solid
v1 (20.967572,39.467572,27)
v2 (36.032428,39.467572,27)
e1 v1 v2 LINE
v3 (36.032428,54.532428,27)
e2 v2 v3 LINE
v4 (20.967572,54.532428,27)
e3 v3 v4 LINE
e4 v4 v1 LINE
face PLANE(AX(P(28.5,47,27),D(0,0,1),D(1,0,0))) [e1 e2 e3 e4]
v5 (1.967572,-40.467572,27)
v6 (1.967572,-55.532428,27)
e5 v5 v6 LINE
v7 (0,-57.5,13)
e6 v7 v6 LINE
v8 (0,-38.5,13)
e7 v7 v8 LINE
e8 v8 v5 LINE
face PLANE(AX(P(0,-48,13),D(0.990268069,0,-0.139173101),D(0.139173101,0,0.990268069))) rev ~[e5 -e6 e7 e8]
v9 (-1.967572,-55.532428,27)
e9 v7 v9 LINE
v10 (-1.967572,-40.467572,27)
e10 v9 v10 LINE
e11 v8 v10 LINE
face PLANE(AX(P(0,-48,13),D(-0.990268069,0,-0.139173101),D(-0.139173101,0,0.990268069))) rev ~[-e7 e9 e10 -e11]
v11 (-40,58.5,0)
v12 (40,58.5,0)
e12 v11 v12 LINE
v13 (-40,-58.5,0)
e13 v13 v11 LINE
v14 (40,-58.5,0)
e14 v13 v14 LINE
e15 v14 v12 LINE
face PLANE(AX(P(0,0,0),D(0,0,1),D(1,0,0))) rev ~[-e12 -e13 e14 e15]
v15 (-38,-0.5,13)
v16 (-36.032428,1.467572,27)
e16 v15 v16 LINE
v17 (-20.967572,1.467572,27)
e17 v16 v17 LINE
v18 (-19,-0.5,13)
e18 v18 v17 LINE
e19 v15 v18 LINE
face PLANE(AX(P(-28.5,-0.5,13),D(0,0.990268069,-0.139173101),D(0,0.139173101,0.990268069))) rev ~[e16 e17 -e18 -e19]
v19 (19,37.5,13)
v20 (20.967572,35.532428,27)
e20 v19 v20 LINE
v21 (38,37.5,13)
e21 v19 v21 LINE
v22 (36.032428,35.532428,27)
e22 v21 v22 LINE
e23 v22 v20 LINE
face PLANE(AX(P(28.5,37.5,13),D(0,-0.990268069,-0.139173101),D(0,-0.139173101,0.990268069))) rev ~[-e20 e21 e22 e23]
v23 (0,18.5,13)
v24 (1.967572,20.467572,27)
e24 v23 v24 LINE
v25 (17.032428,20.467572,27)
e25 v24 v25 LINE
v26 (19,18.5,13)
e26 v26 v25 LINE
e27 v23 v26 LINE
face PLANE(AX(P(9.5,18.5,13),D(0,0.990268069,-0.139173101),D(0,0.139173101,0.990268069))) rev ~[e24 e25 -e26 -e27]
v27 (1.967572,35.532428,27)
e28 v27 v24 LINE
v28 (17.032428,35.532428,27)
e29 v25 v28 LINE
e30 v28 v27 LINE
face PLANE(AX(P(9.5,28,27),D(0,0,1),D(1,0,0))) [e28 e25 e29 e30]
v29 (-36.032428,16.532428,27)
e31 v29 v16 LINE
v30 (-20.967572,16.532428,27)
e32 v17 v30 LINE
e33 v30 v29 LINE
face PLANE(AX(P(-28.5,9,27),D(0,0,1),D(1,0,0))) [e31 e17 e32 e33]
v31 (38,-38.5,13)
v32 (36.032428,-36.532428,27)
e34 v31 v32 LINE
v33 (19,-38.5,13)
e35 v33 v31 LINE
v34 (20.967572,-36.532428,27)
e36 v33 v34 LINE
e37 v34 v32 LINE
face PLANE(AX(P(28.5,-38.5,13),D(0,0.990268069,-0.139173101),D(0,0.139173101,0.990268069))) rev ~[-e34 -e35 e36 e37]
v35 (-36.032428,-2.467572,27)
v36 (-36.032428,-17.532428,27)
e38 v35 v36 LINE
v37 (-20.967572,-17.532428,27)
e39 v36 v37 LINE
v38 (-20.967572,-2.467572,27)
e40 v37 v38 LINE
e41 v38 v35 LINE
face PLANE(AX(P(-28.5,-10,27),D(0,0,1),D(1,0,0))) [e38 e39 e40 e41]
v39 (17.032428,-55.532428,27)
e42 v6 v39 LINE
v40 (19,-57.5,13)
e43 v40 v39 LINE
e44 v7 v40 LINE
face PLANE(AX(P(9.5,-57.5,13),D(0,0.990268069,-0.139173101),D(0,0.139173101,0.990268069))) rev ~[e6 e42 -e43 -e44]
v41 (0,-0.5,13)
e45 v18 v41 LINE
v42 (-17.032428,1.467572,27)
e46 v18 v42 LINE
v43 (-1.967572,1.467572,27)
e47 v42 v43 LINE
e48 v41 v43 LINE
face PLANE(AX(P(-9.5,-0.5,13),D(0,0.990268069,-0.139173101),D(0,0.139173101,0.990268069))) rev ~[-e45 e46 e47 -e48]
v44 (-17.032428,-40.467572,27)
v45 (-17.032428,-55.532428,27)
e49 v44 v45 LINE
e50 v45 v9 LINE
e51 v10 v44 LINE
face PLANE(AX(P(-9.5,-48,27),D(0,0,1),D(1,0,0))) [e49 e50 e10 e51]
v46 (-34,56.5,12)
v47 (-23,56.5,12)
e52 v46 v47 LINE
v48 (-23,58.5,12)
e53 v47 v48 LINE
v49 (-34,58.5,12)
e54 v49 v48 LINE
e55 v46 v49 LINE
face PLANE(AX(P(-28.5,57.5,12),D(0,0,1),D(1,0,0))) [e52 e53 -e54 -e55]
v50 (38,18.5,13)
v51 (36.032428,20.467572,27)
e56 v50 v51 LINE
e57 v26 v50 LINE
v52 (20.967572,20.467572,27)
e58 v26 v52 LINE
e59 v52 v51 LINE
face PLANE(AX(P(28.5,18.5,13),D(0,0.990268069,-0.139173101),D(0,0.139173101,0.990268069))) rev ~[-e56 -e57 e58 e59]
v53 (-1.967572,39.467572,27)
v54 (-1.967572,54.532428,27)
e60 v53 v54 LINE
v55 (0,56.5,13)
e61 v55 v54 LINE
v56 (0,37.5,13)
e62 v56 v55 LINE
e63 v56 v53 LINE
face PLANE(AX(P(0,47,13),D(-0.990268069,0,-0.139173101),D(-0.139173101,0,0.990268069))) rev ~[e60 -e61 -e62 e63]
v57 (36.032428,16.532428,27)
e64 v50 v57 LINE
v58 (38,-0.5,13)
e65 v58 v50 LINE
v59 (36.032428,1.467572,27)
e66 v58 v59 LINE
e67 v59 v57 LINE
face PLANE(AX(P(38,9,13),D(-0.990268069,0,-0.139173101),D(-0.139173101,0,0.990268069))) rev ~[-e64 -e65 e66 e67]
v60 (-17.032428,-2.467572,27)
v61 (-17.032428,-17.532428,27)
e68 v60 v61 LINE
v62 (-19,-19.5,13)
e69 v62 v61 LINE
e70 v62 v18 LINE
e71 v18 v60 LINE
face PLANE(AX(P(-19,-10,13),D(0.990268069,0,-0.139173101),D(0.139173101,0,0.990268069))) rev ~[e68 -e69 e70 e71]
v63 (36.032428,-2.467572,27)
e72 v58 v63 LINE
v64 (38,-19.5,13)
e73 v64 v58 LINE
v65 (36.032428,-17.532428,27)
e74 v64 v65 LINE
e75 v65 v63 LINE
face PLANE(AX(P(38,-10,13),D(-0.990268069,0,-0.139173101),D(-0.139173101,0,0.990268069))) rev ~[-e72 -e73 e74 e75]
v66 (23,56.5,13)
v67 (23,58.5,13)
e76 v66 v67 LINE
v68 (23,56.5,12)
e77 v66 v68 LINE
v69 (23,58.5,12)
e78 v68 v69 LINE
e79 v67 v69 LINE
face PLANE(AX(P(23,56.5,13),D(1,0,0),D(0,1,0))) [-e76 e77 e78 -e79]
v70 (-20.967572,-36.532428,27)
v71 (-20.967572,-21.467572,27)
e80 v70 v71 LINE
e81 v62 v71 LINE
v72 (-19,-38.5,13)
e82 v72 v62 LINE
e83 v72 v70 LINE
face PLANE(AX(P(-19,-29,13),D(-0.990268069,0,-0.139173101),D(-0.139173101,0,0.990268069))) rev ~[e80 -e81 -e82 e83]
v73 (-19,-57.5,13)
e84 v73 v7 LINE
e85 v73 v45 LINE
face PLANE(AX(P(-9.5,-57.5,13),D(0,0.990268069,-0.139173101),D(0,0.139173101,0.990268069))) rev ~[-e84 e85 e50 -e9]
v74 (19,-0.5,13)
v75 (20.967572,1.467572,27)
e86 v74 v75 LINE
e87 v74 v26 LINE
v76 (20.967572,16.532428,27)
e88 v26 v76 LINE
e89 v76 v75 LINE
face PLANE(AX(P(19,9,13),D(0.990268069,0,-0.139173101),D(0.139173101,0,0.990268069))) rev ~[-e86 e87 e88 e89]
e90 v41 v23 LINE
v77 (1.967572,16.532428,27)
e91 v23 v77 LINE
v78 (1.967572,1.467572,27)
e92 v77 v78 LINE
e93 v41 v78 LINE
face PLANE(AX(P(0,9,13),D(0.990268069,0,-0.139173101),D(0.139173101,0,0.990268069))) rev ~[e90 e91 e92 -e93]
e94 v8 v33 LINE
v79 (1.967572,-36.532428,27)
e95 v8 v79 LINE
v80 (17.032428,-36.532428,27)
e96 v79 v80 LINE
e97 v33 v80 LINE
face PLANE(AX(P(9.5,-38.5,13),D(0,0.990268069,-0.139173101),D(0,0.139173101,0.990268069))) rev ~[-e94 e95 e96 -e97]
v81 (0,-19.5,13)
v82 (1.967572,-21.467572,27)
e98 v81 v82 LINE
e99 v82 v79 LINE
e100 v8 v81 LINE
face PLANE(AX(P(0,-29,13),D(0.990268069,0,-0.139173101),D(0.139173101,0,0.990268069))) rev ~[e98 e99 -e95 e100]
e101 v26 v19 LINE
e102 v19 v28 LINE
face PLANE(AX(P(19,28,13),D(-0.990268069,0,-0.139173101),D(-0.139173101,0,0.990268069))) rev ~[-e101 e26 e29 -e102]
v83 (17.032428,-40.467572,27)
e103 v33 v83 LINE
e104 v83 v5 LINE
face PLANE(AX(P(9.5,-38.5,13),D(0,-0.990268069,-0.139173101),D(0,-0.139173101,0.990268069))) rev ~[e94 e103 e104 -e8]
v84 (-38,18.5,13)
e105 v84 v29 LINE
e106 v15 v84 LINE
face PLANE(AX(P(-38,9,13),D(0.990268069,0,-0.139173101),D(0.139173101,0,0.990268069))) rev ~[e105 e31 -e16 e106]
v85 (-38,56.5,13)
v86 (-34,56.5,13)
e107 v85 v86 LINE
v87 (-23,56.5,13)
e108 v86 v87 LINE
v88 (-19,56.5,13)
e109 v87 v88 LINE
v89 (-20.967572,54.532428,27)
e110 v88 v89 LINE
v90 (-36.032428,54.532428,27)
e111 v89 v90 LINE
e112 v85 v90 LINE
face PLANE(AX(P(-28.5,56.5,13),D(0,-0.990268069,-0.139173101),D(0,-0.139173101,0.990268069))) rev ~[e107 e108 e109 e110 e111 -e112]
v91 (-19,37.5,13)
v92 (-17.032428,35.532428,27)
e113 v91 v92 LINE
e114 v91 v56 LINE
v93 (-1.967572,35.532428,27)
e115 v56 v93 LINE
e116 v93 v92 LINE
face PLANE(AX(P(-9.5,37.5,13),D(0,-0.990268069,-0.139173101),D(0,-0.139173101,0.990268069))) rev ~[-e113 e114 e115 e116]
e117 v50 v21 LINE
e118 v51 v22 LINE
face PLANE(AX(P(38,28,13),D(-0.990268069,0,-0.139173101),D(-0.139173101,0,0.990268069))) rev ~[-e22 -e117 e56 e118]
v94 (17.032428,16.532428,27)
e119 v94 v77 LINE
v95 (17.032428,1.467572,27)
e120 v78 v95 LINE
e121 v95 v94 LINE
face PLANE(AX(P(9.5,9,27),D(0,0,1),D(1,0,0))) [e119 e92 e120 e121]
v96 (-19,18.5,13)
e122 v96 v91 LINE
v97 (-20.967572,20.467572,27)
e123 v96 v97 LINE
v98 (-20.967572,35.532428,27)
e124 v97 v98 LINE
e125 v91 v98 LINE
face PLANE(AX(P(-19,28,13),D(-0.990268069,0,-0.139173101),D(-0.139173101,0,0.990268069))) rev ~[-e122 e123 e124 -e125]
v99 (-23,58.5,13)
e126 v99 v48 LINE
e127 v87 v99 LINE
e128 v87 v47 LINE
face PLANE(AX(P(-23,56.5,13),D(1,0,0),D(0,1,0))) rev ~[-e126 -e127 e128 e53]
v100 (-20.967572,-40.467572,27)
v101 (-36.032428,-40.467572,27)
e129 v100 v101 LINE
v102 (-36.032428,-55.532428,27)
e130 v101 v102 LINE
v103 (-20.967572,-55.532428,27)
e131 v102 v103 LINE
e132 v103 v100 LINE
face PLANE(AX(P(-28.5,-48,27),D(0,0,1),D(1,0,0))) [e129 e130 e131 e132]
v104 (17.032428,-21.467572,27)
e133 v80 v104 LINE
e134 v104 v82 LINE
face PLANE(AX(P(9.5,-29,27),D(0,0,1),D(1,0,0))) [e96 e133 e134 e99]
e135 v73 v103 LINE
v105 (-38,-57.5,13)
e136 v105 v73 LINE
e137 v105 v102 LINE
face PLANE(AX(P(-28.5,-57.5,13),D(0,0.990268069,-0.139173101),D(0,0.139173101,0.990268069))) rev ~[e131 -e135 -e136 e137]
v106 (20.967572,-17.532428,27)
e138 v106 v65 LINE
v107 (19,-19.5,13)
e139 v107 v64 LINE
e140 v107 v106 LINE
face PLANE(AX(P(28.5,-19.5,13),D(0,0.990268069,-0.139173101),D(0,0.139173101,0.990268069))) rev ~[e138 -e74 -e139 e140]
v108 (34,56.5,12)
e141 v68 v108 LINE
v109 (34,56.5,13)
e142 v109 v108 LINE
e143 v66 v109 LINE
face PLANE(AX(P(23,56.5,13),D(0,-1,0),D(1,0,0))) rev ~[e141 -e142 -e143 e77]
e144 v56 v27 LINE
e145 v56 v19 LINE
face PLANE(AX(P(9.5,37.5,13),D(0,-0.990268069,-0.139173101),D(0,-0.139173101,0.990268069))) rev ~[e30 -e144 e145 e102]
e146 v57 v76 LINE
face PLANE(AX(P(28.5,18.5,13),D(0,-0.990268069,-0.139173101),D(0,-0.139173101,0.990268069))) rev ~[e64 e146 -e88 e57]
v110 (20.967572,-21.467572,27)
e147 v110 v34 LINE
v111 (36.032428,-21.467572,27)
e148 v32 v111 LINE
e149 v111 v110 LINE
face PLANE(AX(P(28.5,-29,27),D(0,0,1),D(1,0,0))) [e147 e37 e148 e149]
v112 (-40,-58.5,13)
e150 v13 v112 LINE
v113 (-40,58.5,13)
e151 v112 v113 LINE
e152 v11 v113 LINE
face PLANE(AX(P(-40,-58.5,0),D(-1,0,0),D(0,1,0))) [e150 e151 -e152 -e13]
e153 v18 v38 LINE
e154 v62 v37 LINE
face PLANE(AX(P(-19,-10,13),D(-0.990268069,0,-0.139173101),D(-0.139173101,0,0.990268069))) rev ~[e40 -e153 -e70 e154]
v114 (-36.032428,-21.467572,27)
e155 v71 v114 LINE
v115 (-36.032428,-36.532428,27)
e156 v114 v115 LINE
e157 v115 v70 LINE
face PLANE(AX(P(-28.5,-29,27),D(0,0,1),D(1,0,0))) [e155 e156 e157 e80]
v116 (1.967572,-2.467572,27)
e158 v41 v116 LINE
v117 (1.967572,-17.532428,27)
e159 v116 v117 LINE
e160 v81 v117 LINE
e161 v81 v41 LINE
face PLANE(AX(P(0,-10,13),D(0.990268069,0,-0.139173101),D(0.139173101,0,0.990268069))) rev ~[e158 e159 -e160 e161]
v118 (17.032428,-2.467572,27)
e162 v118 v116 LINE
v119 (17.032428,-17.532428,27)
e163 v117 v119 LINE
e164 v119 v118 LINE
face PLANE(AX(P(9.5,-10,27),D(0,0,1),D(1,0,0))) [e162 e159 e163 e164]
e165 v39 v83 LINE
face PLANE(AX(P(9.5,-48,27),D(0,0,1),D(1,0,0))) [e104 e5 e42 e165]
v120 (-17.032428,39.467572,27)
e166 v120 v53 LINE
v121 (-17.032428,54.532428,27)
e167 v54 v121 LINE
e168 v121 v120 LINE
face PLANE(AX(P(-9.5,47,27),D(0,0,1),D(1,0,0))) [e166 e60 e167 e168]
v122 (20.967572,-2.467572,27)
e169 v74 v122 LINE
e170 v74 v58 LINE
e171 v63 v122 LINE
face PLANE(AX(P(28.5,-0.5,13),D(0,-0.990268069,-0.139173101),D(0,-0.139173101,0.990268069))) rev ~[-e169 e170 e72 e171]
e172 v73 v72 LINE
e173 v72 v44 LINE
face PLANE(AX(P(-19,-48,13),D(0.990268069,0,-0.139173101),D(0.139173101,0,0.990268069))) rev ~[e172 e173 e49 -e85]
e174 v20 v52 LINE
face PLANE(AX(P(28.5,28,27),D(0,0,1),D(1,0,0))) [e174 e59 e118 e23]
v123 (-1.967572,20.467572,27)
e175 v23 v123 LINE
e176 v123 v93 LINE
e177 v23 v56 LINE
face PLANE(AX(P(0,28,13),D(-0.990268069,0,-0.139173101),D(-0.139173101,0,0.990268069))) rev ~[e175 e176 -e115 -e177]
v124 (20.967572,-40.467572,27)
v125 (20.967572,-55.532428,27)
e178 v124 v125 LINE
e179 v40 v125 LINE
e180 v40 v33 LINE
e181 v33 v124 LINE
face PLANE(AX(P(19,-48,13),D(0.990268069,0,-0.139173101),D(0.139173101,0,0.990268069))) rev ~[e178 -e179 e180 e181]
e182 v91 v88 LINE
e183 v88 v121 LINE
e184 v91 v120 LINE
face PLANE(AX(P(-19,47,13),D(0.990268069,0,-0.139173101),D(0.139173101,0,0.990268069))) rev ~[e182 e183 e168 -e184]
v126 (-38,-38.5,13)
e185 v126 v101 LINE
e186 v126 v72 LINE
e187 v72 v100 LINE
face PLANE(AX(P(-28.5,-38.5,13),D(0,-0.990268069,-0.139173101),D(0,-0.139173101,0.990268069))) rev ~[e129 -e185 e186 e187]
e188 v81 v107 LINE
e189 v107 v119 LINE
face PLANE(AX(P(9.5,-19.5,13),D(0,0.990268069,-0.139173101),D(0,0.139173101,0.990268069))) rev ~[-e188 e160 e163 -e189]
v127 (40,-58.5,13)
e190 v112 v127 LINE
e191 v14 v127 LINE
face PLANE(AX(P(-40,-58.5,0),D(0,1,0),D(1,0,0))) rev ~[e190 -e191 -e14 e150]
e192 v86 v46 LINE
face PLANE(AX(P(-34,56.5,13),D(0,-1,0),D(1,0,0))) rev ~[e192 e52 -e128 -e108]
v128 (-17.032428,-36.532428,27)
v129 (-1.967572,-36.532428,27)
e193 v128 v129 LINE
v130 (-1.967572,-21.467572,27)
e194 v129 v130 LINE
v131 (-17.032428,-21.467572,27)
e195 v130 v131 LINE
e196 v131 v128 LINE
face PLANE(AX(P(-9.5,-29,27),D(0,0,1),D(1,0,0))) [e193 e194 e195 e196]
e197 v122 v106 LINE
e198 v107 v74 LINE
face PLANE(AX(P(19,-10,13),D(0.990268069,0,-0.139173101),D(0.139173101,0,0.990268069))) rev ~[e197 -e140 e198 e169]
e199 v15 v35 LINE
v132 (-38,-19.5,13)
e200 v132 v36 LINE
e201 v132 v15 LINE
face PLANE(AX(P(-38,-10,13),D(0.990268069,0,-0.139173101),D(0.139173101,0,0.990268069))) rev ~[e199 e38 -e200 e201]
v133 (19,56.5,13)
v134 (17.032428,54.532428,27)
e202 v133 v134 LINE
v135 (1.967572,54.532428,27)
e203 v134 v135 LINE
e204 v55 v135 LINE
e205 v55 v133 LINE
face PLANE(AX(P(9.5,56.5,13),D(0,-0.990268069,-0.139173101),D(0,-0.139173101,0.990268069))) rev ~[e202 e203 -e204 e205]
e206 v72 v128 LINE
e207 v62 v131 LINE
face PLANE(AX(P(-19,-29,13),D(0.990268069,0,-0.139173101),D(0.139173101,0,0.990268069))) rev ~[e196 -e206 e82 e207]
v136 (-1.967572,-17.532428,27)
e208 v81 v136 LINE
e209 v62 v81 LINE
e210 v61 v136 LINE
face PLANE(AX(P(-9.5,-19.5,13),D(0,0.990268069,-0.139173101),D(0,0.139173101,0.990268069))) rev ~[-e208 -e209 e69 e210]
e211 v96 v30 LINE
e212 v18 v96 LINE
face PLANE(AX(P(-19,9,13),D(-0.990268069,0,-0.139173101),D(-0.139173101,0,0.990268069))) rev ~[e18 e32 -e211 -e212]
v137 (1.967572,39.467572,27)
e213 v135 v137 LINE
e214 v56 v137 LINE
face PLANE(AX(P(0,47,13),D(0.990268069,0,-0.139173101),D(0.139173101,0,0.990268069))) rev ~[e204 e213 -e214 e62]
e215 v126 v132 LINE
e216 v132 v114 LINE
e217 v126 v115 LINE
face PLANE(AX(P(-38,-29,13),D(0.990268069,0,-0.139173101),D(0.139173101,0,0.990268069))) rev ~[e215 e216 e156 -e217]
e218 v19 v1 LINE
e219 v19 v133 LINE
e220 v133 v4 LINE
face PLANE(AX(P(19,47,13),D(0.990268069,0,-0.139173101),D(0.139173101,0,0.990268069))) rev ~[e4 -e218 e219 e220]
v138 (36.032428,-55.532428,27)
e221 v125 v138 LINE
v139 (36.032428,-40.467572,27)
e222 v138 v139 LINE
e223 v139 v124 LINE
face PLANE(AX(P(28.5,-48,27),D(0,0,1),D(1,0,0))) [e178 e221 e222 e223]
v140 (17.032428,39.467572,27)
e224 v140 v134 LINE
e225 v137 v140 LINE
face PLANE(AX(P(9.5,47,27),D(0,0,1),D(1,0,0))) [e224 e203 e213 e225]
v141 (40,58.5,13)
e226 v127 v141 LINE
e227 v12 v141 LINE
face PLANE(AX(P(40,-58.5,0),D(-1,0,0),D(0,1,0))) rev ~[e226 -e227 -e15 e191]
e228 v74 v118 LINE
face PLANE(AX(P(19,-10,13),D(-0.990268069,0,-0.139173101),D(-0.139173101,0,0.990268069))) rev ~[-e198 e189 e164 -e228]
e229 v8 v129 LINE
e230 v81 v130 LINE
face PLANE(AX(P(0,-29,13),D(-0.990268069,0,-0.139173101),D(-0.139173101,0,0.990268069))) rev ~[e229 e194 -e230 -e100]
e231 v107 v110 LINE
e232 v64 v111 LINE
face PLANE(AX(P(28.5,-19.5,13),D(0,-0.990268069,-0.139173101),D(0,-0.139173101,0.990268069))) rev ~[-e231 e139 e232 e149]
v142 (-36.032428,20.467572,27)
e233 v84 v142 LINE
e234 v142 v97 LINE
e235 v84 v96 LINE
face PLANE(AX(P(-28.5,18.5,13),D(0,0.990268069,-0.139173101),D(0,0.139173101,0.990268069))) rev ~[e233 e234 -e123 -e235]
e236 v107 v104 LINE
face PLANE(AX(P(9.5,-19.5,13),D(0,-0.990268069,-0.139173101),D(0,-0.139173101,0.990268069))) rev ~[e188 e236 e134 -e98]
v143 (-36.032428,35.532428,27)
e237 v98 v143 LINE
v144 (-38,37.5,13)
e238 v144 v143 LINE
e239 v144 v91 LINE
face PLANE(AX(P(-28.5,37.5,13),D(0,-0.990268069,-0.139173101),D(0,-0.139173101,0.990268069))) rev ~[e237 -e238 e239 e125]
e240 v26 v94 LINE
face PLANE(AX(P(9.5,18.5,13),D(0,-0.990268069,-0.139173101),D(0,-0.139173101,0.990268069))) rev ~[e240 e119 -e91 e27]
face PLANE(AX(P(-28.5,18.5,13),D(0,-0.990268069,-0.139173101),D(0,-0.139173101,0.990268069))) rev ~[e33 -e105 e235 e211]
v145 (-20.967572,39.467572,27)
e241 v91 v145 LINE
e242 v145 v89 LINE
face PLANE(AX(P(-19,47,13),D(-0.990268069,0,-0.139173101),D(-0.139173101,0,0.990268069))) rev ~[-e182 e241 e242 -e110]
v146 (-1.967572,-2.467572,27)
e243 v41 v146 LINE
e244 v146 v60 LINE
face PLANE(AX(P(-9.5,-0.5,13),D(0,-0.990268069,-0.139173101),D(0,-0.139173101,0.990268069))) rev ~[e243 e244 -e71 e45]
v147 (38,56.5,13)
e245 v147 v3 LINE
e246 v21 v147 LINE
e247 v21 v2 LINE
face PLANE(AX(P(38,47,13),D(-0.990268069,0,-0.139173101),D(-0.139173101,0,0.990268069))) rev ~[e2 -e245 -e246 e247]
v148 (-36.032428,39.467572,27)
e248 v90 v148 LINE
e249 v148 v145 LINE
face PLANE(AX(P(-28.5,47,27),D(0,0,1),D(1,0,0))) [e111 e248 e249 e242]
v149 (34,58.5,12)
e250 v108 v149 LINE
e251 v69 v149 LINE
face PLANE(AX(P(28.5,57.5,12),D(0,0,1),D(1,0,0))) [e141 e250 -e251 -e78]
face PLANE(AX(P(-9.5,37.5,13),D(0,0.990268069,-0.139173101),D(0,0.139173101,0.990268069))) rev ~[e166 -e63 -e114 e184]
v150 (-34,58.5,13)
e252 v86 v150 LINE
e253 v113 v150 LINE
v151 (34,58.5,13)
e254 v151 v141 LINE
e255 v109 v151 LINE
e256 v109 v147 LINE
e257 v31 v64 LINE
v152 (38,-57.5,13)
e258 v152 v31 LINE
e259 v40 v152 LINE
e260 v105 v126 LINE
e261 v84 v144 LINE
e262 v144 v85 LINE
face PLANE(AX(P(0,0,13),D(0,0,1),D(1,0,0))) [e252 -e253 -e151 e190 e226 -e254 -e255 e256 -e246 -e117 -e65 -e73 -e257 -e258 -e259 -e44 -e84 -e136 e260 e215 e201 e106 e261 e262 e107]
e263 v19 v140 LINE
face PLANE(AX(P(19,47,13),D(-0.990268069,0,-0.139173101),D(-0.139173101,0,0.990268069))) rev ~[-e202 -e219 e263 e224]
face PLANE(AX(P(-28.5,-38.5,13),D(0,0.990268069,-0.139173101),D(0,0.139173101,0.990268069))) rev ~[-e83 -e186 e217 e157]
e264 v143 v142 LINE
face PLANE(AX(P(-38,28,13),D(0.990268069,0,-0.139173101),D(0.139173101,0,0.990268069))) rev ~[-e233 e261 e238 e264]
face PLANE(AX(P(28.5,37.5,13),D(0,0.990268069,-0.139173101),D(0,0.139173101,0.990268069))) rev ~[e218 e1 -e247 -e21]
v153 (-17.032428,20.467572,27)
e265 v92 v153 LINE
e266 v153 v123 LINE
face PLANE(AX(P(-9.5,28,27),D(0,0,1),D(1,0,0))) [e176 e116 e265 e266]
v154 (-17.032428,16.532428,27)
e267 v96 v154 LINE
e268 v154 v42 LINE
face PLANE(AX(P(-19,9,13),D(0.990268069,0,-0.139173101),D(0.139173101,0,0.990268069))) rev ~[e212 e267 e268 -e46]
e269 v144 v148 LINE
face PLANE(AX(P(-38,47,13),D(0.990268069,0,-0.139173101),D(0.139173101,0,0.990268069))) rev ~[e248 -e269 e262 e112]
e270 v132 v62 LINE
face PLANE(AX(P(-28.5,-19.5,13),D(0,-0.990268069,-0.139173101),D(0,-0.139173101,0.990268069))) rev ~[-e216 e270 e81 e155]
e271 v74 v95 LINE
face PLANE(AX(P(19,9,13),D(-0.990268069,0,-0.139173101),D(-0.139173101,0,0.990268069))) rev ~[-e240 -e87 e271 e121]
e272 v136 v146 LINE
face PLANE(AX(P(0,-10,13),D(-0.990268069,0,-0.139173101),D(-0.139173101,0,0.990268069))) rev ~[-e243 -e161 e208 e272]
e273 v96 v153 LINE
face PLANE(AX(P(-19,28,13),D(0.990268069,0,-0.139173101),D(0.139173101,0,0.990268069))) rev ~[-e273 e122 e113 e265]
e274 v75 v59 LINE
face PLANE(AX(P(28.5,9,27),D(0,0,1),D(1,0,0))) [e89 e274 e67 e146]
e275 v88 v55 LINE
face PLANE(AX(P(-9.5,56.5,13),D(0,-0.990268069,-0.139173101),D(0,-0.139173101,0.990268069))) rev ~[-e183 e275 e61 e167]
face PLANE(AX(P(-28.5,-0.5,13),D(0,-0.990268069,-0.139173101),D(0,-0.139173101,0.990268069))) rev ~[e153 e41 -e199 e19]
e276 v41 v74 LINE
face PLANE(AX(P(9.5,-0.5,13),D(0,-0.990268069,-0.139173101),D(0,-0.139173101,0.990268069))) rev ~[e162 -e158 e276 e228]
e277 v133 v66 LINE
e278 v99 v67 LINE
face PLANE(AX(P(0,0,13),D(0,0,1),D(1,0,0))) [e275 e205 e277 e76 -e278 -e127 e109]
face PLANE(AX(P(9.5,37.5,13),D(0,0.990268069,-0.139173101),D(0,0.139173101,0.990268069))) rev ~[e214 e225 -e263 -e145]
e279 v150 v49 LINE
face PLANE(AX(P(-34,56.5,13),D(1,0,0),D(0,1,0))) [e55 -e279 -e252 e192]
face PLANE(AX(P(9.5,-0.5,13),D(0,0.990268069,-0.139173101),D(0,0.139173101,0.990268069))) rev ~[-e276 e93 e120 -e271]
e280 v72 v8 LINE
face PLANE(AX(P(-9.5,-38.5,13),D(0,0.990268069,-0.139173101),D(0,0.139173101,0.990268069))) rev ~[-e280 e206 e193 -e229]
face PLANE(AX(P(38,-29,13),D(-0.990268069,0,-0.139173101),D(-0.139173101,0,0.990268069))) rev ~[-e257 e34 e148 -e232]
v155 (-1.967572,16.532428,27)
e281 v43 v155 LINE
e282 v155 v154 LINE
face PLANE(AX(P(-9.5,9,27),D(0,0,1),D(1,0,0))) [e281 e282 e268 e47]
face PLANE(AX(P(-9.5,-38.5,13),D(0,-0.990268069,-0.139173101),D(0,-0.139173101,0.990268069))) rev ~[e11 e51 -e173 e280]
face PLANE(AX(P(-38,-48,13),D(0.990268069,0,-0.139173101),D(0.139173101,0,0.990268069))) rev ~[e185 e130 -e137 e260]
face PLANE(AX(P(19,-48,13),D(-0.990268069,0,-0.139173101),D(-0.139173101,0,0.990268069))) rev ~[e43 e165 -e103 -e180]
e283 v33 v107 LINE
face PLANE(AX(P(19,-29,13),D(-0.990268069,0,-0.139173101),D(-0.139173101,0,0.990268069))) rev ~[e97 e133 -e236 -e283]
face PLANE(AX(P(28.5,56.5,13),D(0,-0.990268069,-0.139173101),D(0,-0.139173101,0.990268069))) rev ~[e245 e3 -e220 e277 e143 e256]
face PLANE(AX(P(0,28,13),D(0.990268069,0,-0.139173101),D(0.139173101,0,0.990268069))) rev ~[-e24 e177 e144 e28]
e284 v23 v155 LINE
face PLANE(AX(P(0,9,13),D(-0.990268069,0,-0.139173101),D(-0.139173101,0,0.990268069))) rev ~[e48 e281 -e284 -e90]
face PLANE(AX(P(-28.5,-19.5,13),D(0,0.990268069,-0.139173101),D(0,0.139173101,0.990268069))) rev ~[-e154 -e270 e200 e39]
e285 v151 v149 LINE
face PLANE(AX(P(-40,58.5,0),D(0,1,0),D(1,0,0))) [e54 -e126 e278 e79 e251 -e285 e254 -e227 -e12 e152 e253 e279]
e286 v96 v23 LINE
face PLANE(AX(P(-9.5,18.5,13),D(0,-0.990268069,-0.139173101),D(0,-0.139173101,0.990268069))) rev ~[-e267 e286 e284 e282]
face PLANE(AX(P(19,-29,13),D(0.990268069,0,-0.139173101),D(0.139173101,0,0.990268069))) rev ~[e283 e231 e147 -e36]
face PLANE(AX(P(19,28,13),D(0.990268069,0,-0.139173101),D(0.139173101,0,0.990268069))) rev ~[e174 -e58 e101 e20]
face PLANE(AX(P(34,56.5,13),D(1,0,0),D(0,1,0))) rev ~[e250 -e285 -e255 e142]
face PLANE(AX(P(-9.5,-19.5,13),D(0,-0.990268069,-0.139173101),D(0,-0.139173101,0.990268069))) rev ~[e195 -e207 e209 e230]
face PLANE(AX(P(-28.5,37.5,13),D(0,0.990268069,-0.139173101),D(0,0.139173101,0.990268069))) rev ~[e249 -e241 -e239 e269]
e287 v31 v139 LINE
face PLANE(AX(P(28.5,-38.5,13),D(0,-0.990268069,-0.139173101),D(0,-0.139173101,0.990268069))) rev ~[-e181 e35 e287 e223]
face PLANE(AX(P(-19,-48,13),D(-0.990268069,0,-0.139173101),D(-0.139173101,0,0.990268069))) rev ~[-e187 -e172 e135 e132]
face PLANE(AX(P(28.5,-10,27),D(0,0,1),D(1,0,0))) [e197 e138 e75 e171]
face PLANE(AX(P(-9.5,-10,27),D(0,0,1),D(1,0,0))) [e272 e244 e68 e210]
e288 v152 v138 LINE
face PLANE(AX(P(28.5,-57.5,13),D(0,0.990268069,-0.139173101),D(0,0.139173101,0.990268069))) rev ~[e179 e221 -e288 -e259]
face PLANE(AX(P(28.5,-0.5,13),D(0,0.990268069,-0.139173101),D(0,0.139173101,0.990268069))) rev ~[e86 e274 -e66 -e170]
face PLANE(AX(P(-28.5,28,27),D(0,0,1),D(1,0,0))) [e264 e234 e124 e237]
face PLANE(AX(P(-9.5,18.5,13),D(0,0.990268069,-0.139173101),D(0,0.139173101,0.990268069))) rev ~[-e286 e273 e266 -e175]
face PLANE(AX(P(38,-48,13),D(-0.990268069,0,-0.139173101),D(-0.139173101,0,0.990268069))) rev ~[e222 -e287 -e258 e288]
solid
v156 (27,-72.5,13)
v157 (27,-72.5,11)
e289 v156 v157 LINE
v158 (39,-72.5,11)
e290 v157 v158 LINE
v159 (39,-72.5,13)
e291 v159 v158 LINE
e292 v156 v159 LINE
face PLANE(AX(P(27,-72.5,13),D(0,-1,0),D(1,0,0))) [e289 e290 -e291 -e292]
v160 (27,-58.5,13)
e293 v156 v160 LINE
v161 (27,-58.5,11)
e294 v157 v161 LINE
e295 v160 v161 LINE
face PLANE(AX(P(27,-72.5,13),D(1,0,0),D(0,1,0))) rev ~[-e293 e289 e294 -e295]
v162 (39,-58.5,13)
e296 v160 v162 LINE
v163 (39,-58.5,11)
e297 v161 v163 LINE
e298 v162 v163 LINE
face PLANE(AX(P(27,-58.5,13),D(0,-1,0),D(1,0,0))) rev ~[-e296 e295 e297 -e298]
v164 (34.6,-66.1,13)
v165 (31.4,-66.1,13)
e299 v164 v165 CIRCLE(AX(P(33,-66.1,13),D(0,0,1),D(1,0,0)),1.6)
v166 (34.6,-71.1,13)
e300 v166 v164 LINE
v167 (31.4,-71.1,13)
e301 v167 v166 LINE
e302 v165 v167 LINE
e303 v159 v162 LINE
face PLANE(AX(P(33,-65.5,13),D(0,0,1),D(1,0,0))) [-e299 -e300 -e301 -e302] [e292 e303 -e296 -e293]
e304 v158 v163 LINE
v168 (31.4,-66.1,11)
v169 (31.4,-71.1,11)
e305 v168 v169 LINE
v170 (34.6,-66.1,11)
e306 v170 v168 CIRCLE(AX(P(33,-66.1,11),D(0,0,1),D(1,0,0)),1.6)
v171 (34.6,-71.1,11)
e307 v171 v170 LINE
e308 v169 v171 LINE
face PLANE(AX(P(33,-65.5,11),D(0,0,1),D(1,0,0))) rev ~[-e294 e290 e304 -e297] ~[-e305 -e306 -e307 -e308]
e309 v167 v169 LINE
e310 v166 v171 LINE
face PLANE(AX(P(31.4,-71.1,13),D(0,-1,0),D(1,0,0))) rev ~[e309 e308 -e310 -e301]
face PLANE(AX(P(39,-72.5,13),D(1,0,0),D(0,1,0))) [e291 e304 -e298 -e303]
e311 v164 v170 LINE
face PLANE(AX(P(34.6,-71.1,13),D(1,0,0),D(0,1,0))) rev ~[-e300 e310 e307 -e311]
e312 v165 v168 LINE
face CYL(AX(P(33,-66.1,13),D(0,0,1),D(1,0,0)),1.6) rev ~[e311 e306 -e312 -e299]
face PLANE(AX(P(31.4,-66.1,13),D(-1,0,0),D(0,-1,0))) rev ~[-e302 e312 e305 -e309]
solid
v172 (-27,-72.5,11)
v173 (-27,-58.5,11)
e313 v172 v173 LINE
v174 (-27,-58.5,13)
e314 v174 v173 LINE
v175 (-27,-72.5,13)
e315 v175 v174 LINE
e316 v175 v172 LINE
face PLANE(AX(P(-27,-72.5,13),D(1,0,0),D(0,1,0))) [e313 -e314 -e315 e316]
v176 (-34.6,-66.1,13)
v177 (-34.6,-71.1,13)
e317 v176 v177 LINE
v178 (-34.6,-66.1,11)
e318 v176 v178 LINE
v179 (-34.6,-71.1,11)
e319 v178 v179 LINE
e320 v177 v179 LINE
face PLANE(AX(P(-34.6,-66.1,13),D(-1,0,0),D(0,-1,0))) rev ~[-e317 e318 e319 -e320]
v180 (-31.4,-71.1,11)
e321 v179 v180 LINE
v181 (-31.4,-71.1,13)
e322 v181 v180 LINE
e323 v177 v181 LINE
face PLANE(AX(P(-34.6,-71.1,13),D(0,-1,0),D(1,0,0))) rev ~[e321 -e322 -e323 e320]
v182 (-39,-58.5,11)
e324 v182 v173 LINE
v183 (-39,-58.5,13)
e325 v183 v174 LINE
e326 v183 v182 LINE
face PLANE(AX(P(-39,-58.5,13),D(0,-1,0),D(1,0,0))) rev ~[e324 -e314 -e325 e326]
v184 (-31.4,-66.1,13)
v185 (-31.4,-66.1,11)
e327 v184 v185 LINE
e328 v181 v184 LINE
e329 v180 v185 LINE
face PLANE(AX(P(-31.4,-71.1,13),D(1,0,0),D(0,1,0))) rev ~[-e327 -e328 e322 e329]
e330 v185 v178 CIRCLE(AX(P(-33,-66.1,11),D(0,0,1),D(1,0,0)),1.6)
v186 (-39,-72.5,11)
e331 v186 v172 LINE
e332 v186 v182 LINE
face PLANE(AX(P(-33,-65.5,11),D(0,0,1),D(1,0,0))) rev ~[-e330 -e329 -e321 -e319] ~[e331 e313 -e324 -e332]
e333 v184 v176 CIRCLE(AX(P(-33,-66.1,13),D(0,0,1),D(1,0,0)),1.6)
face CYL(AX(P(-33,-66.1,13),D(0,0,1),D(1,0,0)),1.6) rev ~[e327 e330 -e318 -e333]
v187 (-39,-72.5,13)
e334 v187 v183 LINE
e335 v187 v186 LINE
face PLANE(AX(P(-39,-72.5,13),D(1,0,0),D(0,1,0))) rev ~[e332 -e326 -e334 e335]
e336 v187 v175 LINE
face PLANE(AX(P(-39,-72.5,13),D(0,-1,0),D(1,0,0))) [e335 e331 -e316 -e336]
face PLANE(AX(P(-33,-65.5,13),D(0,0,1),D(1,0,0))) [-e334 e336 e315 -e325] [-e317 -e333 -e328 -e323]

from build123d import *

# Parameters (mm, degrees)
SKETCH_1_W                  = 80
SKETCH_1_H                  = 117
EXTRUDE_1_DEPTH             = 13
SKETCH_2_W                  = 19
SKETCH_2_H                  = 19
EXTRUDE_2_DEPTH             = 14
EXTRUDE_2_TAPER             = 8
PATTERN_LINEAR_1_COUNT      = 4
PATTERN_LINEAR_1_PITCH      = 19
PATTERN_LINEAR_1_COUNT_DIR2 = 6
PATTERN_LINEAR_1_PITCH_DIR2 = 19
SKETCH_4_W                  = 12
SKETCH_4_H                  = 14
EXTRUDE_3_DEPTH             = 2
EXTRUDE_3_2_DEPTH           = 2
SKETCH_3_W                  = 11
SKETCH_3_H                  = 2
CUT_EXTRUDE_1_DEPTH         = 1


with BuildPart() as part:
    # Эскиз1 → Бобышка-Вытянуть1 (new body)
    with BuildSketch(Plane.XY):
        Rectangle(SKETCH_1_W, SKETCH_1_H)
    extrude(amount=EXTRUDE_1_DEPTH)

    # Эскиз2 → Бобышка-Вытянуть2 (add)
    with BuildSketch(Plane.XY.offset(13)):
        with Locations((-28.5, 47)):
            Rectangle(SKETCH_2_W, SKETCH_2_H)
    extrude_2 = extrude(amount=EXTRUDE_2_DEPTH, taper=EXTRUDE_2_TAPER)

    # Линейный массив1: Extrude 2 4 × 6
    with Locations(*[(i * PATTERN_LINEAR_1_PITCH, -j * PATTERN_LINEAR_1_PITCH_DIR2, 0) for i in range(PATTERN_LINEAR_1_COUNT) for j in range(PATTERN_LINEAR_1_COUNT_DIR2) if (i, j) != (0, 0)]):
        add(extrude_2)

    # Эскиз3 → Вырез-Вытянуть1 (cut)
    with BuildSketch(Plane.XY.offset(13)):
        with Locations((-28.5, 57.5)):
            Rectangle(SKETCH_3_W, SKETCH_3_H)
        with Locations((28.5, 57.5)):
            Rectangle(SKETCH_3_W, SKETCH_3_H)
    extrude(amount=-CUT_EXTRUDE_1_DEPTH, mode=Mode.SUBTRACT)


with BuildPart() as body_2:
    # Эскиз4 → Бобышка-Вытянуть3 (new body)
    with BuildSketch(Plane.XY.offset(13)):
        with Locations((-33, -65.5)):
            Rectangle(SKETCH_4_W, SKETCH_4_H)
        with BuildLine():
            Line((-34.6, -66.1), (-34.6, -71.1))
            Line((-34.6, -71.1), (-31.4, -71.1))
            Line((-31.4, -71.1), (-31.4, -66.1))
            ThreePointArc((-31.4, -66.1), (-33, -64.5), (-34.6, -66.1))
        make_face(mode=Mode.SUBTRACT)
    extrude(amount=-EXTRUDE_3_DEPTH)


with BuildPart() as body_3:
    # Эскиз4 → Extrude 3 2 (new body)
    with BuildSketch(Plane.XY.offset(13)):
        with Locations((33, -65.5)):
            Rectangle(SKETCH_4_W, SKETCH_4_H)
        with BuildLine():
            Line((31.4, -66.1), (31.4, -71.1))
            Line((31.4, -71.1), (34.6, -71.1))
            Line((34.6, -71.1), (34.6, -66.1))
            ThreePointArc((34.6, -66.1), (33, -64.5), (31.4, -66.1))
        make_face(mode=Mode.SUBTRACT)
    extrude(amount=-EXTRUDE_3_2_DEPTH)


solid = Compound([part.part, body_2.part, body_3.part])
